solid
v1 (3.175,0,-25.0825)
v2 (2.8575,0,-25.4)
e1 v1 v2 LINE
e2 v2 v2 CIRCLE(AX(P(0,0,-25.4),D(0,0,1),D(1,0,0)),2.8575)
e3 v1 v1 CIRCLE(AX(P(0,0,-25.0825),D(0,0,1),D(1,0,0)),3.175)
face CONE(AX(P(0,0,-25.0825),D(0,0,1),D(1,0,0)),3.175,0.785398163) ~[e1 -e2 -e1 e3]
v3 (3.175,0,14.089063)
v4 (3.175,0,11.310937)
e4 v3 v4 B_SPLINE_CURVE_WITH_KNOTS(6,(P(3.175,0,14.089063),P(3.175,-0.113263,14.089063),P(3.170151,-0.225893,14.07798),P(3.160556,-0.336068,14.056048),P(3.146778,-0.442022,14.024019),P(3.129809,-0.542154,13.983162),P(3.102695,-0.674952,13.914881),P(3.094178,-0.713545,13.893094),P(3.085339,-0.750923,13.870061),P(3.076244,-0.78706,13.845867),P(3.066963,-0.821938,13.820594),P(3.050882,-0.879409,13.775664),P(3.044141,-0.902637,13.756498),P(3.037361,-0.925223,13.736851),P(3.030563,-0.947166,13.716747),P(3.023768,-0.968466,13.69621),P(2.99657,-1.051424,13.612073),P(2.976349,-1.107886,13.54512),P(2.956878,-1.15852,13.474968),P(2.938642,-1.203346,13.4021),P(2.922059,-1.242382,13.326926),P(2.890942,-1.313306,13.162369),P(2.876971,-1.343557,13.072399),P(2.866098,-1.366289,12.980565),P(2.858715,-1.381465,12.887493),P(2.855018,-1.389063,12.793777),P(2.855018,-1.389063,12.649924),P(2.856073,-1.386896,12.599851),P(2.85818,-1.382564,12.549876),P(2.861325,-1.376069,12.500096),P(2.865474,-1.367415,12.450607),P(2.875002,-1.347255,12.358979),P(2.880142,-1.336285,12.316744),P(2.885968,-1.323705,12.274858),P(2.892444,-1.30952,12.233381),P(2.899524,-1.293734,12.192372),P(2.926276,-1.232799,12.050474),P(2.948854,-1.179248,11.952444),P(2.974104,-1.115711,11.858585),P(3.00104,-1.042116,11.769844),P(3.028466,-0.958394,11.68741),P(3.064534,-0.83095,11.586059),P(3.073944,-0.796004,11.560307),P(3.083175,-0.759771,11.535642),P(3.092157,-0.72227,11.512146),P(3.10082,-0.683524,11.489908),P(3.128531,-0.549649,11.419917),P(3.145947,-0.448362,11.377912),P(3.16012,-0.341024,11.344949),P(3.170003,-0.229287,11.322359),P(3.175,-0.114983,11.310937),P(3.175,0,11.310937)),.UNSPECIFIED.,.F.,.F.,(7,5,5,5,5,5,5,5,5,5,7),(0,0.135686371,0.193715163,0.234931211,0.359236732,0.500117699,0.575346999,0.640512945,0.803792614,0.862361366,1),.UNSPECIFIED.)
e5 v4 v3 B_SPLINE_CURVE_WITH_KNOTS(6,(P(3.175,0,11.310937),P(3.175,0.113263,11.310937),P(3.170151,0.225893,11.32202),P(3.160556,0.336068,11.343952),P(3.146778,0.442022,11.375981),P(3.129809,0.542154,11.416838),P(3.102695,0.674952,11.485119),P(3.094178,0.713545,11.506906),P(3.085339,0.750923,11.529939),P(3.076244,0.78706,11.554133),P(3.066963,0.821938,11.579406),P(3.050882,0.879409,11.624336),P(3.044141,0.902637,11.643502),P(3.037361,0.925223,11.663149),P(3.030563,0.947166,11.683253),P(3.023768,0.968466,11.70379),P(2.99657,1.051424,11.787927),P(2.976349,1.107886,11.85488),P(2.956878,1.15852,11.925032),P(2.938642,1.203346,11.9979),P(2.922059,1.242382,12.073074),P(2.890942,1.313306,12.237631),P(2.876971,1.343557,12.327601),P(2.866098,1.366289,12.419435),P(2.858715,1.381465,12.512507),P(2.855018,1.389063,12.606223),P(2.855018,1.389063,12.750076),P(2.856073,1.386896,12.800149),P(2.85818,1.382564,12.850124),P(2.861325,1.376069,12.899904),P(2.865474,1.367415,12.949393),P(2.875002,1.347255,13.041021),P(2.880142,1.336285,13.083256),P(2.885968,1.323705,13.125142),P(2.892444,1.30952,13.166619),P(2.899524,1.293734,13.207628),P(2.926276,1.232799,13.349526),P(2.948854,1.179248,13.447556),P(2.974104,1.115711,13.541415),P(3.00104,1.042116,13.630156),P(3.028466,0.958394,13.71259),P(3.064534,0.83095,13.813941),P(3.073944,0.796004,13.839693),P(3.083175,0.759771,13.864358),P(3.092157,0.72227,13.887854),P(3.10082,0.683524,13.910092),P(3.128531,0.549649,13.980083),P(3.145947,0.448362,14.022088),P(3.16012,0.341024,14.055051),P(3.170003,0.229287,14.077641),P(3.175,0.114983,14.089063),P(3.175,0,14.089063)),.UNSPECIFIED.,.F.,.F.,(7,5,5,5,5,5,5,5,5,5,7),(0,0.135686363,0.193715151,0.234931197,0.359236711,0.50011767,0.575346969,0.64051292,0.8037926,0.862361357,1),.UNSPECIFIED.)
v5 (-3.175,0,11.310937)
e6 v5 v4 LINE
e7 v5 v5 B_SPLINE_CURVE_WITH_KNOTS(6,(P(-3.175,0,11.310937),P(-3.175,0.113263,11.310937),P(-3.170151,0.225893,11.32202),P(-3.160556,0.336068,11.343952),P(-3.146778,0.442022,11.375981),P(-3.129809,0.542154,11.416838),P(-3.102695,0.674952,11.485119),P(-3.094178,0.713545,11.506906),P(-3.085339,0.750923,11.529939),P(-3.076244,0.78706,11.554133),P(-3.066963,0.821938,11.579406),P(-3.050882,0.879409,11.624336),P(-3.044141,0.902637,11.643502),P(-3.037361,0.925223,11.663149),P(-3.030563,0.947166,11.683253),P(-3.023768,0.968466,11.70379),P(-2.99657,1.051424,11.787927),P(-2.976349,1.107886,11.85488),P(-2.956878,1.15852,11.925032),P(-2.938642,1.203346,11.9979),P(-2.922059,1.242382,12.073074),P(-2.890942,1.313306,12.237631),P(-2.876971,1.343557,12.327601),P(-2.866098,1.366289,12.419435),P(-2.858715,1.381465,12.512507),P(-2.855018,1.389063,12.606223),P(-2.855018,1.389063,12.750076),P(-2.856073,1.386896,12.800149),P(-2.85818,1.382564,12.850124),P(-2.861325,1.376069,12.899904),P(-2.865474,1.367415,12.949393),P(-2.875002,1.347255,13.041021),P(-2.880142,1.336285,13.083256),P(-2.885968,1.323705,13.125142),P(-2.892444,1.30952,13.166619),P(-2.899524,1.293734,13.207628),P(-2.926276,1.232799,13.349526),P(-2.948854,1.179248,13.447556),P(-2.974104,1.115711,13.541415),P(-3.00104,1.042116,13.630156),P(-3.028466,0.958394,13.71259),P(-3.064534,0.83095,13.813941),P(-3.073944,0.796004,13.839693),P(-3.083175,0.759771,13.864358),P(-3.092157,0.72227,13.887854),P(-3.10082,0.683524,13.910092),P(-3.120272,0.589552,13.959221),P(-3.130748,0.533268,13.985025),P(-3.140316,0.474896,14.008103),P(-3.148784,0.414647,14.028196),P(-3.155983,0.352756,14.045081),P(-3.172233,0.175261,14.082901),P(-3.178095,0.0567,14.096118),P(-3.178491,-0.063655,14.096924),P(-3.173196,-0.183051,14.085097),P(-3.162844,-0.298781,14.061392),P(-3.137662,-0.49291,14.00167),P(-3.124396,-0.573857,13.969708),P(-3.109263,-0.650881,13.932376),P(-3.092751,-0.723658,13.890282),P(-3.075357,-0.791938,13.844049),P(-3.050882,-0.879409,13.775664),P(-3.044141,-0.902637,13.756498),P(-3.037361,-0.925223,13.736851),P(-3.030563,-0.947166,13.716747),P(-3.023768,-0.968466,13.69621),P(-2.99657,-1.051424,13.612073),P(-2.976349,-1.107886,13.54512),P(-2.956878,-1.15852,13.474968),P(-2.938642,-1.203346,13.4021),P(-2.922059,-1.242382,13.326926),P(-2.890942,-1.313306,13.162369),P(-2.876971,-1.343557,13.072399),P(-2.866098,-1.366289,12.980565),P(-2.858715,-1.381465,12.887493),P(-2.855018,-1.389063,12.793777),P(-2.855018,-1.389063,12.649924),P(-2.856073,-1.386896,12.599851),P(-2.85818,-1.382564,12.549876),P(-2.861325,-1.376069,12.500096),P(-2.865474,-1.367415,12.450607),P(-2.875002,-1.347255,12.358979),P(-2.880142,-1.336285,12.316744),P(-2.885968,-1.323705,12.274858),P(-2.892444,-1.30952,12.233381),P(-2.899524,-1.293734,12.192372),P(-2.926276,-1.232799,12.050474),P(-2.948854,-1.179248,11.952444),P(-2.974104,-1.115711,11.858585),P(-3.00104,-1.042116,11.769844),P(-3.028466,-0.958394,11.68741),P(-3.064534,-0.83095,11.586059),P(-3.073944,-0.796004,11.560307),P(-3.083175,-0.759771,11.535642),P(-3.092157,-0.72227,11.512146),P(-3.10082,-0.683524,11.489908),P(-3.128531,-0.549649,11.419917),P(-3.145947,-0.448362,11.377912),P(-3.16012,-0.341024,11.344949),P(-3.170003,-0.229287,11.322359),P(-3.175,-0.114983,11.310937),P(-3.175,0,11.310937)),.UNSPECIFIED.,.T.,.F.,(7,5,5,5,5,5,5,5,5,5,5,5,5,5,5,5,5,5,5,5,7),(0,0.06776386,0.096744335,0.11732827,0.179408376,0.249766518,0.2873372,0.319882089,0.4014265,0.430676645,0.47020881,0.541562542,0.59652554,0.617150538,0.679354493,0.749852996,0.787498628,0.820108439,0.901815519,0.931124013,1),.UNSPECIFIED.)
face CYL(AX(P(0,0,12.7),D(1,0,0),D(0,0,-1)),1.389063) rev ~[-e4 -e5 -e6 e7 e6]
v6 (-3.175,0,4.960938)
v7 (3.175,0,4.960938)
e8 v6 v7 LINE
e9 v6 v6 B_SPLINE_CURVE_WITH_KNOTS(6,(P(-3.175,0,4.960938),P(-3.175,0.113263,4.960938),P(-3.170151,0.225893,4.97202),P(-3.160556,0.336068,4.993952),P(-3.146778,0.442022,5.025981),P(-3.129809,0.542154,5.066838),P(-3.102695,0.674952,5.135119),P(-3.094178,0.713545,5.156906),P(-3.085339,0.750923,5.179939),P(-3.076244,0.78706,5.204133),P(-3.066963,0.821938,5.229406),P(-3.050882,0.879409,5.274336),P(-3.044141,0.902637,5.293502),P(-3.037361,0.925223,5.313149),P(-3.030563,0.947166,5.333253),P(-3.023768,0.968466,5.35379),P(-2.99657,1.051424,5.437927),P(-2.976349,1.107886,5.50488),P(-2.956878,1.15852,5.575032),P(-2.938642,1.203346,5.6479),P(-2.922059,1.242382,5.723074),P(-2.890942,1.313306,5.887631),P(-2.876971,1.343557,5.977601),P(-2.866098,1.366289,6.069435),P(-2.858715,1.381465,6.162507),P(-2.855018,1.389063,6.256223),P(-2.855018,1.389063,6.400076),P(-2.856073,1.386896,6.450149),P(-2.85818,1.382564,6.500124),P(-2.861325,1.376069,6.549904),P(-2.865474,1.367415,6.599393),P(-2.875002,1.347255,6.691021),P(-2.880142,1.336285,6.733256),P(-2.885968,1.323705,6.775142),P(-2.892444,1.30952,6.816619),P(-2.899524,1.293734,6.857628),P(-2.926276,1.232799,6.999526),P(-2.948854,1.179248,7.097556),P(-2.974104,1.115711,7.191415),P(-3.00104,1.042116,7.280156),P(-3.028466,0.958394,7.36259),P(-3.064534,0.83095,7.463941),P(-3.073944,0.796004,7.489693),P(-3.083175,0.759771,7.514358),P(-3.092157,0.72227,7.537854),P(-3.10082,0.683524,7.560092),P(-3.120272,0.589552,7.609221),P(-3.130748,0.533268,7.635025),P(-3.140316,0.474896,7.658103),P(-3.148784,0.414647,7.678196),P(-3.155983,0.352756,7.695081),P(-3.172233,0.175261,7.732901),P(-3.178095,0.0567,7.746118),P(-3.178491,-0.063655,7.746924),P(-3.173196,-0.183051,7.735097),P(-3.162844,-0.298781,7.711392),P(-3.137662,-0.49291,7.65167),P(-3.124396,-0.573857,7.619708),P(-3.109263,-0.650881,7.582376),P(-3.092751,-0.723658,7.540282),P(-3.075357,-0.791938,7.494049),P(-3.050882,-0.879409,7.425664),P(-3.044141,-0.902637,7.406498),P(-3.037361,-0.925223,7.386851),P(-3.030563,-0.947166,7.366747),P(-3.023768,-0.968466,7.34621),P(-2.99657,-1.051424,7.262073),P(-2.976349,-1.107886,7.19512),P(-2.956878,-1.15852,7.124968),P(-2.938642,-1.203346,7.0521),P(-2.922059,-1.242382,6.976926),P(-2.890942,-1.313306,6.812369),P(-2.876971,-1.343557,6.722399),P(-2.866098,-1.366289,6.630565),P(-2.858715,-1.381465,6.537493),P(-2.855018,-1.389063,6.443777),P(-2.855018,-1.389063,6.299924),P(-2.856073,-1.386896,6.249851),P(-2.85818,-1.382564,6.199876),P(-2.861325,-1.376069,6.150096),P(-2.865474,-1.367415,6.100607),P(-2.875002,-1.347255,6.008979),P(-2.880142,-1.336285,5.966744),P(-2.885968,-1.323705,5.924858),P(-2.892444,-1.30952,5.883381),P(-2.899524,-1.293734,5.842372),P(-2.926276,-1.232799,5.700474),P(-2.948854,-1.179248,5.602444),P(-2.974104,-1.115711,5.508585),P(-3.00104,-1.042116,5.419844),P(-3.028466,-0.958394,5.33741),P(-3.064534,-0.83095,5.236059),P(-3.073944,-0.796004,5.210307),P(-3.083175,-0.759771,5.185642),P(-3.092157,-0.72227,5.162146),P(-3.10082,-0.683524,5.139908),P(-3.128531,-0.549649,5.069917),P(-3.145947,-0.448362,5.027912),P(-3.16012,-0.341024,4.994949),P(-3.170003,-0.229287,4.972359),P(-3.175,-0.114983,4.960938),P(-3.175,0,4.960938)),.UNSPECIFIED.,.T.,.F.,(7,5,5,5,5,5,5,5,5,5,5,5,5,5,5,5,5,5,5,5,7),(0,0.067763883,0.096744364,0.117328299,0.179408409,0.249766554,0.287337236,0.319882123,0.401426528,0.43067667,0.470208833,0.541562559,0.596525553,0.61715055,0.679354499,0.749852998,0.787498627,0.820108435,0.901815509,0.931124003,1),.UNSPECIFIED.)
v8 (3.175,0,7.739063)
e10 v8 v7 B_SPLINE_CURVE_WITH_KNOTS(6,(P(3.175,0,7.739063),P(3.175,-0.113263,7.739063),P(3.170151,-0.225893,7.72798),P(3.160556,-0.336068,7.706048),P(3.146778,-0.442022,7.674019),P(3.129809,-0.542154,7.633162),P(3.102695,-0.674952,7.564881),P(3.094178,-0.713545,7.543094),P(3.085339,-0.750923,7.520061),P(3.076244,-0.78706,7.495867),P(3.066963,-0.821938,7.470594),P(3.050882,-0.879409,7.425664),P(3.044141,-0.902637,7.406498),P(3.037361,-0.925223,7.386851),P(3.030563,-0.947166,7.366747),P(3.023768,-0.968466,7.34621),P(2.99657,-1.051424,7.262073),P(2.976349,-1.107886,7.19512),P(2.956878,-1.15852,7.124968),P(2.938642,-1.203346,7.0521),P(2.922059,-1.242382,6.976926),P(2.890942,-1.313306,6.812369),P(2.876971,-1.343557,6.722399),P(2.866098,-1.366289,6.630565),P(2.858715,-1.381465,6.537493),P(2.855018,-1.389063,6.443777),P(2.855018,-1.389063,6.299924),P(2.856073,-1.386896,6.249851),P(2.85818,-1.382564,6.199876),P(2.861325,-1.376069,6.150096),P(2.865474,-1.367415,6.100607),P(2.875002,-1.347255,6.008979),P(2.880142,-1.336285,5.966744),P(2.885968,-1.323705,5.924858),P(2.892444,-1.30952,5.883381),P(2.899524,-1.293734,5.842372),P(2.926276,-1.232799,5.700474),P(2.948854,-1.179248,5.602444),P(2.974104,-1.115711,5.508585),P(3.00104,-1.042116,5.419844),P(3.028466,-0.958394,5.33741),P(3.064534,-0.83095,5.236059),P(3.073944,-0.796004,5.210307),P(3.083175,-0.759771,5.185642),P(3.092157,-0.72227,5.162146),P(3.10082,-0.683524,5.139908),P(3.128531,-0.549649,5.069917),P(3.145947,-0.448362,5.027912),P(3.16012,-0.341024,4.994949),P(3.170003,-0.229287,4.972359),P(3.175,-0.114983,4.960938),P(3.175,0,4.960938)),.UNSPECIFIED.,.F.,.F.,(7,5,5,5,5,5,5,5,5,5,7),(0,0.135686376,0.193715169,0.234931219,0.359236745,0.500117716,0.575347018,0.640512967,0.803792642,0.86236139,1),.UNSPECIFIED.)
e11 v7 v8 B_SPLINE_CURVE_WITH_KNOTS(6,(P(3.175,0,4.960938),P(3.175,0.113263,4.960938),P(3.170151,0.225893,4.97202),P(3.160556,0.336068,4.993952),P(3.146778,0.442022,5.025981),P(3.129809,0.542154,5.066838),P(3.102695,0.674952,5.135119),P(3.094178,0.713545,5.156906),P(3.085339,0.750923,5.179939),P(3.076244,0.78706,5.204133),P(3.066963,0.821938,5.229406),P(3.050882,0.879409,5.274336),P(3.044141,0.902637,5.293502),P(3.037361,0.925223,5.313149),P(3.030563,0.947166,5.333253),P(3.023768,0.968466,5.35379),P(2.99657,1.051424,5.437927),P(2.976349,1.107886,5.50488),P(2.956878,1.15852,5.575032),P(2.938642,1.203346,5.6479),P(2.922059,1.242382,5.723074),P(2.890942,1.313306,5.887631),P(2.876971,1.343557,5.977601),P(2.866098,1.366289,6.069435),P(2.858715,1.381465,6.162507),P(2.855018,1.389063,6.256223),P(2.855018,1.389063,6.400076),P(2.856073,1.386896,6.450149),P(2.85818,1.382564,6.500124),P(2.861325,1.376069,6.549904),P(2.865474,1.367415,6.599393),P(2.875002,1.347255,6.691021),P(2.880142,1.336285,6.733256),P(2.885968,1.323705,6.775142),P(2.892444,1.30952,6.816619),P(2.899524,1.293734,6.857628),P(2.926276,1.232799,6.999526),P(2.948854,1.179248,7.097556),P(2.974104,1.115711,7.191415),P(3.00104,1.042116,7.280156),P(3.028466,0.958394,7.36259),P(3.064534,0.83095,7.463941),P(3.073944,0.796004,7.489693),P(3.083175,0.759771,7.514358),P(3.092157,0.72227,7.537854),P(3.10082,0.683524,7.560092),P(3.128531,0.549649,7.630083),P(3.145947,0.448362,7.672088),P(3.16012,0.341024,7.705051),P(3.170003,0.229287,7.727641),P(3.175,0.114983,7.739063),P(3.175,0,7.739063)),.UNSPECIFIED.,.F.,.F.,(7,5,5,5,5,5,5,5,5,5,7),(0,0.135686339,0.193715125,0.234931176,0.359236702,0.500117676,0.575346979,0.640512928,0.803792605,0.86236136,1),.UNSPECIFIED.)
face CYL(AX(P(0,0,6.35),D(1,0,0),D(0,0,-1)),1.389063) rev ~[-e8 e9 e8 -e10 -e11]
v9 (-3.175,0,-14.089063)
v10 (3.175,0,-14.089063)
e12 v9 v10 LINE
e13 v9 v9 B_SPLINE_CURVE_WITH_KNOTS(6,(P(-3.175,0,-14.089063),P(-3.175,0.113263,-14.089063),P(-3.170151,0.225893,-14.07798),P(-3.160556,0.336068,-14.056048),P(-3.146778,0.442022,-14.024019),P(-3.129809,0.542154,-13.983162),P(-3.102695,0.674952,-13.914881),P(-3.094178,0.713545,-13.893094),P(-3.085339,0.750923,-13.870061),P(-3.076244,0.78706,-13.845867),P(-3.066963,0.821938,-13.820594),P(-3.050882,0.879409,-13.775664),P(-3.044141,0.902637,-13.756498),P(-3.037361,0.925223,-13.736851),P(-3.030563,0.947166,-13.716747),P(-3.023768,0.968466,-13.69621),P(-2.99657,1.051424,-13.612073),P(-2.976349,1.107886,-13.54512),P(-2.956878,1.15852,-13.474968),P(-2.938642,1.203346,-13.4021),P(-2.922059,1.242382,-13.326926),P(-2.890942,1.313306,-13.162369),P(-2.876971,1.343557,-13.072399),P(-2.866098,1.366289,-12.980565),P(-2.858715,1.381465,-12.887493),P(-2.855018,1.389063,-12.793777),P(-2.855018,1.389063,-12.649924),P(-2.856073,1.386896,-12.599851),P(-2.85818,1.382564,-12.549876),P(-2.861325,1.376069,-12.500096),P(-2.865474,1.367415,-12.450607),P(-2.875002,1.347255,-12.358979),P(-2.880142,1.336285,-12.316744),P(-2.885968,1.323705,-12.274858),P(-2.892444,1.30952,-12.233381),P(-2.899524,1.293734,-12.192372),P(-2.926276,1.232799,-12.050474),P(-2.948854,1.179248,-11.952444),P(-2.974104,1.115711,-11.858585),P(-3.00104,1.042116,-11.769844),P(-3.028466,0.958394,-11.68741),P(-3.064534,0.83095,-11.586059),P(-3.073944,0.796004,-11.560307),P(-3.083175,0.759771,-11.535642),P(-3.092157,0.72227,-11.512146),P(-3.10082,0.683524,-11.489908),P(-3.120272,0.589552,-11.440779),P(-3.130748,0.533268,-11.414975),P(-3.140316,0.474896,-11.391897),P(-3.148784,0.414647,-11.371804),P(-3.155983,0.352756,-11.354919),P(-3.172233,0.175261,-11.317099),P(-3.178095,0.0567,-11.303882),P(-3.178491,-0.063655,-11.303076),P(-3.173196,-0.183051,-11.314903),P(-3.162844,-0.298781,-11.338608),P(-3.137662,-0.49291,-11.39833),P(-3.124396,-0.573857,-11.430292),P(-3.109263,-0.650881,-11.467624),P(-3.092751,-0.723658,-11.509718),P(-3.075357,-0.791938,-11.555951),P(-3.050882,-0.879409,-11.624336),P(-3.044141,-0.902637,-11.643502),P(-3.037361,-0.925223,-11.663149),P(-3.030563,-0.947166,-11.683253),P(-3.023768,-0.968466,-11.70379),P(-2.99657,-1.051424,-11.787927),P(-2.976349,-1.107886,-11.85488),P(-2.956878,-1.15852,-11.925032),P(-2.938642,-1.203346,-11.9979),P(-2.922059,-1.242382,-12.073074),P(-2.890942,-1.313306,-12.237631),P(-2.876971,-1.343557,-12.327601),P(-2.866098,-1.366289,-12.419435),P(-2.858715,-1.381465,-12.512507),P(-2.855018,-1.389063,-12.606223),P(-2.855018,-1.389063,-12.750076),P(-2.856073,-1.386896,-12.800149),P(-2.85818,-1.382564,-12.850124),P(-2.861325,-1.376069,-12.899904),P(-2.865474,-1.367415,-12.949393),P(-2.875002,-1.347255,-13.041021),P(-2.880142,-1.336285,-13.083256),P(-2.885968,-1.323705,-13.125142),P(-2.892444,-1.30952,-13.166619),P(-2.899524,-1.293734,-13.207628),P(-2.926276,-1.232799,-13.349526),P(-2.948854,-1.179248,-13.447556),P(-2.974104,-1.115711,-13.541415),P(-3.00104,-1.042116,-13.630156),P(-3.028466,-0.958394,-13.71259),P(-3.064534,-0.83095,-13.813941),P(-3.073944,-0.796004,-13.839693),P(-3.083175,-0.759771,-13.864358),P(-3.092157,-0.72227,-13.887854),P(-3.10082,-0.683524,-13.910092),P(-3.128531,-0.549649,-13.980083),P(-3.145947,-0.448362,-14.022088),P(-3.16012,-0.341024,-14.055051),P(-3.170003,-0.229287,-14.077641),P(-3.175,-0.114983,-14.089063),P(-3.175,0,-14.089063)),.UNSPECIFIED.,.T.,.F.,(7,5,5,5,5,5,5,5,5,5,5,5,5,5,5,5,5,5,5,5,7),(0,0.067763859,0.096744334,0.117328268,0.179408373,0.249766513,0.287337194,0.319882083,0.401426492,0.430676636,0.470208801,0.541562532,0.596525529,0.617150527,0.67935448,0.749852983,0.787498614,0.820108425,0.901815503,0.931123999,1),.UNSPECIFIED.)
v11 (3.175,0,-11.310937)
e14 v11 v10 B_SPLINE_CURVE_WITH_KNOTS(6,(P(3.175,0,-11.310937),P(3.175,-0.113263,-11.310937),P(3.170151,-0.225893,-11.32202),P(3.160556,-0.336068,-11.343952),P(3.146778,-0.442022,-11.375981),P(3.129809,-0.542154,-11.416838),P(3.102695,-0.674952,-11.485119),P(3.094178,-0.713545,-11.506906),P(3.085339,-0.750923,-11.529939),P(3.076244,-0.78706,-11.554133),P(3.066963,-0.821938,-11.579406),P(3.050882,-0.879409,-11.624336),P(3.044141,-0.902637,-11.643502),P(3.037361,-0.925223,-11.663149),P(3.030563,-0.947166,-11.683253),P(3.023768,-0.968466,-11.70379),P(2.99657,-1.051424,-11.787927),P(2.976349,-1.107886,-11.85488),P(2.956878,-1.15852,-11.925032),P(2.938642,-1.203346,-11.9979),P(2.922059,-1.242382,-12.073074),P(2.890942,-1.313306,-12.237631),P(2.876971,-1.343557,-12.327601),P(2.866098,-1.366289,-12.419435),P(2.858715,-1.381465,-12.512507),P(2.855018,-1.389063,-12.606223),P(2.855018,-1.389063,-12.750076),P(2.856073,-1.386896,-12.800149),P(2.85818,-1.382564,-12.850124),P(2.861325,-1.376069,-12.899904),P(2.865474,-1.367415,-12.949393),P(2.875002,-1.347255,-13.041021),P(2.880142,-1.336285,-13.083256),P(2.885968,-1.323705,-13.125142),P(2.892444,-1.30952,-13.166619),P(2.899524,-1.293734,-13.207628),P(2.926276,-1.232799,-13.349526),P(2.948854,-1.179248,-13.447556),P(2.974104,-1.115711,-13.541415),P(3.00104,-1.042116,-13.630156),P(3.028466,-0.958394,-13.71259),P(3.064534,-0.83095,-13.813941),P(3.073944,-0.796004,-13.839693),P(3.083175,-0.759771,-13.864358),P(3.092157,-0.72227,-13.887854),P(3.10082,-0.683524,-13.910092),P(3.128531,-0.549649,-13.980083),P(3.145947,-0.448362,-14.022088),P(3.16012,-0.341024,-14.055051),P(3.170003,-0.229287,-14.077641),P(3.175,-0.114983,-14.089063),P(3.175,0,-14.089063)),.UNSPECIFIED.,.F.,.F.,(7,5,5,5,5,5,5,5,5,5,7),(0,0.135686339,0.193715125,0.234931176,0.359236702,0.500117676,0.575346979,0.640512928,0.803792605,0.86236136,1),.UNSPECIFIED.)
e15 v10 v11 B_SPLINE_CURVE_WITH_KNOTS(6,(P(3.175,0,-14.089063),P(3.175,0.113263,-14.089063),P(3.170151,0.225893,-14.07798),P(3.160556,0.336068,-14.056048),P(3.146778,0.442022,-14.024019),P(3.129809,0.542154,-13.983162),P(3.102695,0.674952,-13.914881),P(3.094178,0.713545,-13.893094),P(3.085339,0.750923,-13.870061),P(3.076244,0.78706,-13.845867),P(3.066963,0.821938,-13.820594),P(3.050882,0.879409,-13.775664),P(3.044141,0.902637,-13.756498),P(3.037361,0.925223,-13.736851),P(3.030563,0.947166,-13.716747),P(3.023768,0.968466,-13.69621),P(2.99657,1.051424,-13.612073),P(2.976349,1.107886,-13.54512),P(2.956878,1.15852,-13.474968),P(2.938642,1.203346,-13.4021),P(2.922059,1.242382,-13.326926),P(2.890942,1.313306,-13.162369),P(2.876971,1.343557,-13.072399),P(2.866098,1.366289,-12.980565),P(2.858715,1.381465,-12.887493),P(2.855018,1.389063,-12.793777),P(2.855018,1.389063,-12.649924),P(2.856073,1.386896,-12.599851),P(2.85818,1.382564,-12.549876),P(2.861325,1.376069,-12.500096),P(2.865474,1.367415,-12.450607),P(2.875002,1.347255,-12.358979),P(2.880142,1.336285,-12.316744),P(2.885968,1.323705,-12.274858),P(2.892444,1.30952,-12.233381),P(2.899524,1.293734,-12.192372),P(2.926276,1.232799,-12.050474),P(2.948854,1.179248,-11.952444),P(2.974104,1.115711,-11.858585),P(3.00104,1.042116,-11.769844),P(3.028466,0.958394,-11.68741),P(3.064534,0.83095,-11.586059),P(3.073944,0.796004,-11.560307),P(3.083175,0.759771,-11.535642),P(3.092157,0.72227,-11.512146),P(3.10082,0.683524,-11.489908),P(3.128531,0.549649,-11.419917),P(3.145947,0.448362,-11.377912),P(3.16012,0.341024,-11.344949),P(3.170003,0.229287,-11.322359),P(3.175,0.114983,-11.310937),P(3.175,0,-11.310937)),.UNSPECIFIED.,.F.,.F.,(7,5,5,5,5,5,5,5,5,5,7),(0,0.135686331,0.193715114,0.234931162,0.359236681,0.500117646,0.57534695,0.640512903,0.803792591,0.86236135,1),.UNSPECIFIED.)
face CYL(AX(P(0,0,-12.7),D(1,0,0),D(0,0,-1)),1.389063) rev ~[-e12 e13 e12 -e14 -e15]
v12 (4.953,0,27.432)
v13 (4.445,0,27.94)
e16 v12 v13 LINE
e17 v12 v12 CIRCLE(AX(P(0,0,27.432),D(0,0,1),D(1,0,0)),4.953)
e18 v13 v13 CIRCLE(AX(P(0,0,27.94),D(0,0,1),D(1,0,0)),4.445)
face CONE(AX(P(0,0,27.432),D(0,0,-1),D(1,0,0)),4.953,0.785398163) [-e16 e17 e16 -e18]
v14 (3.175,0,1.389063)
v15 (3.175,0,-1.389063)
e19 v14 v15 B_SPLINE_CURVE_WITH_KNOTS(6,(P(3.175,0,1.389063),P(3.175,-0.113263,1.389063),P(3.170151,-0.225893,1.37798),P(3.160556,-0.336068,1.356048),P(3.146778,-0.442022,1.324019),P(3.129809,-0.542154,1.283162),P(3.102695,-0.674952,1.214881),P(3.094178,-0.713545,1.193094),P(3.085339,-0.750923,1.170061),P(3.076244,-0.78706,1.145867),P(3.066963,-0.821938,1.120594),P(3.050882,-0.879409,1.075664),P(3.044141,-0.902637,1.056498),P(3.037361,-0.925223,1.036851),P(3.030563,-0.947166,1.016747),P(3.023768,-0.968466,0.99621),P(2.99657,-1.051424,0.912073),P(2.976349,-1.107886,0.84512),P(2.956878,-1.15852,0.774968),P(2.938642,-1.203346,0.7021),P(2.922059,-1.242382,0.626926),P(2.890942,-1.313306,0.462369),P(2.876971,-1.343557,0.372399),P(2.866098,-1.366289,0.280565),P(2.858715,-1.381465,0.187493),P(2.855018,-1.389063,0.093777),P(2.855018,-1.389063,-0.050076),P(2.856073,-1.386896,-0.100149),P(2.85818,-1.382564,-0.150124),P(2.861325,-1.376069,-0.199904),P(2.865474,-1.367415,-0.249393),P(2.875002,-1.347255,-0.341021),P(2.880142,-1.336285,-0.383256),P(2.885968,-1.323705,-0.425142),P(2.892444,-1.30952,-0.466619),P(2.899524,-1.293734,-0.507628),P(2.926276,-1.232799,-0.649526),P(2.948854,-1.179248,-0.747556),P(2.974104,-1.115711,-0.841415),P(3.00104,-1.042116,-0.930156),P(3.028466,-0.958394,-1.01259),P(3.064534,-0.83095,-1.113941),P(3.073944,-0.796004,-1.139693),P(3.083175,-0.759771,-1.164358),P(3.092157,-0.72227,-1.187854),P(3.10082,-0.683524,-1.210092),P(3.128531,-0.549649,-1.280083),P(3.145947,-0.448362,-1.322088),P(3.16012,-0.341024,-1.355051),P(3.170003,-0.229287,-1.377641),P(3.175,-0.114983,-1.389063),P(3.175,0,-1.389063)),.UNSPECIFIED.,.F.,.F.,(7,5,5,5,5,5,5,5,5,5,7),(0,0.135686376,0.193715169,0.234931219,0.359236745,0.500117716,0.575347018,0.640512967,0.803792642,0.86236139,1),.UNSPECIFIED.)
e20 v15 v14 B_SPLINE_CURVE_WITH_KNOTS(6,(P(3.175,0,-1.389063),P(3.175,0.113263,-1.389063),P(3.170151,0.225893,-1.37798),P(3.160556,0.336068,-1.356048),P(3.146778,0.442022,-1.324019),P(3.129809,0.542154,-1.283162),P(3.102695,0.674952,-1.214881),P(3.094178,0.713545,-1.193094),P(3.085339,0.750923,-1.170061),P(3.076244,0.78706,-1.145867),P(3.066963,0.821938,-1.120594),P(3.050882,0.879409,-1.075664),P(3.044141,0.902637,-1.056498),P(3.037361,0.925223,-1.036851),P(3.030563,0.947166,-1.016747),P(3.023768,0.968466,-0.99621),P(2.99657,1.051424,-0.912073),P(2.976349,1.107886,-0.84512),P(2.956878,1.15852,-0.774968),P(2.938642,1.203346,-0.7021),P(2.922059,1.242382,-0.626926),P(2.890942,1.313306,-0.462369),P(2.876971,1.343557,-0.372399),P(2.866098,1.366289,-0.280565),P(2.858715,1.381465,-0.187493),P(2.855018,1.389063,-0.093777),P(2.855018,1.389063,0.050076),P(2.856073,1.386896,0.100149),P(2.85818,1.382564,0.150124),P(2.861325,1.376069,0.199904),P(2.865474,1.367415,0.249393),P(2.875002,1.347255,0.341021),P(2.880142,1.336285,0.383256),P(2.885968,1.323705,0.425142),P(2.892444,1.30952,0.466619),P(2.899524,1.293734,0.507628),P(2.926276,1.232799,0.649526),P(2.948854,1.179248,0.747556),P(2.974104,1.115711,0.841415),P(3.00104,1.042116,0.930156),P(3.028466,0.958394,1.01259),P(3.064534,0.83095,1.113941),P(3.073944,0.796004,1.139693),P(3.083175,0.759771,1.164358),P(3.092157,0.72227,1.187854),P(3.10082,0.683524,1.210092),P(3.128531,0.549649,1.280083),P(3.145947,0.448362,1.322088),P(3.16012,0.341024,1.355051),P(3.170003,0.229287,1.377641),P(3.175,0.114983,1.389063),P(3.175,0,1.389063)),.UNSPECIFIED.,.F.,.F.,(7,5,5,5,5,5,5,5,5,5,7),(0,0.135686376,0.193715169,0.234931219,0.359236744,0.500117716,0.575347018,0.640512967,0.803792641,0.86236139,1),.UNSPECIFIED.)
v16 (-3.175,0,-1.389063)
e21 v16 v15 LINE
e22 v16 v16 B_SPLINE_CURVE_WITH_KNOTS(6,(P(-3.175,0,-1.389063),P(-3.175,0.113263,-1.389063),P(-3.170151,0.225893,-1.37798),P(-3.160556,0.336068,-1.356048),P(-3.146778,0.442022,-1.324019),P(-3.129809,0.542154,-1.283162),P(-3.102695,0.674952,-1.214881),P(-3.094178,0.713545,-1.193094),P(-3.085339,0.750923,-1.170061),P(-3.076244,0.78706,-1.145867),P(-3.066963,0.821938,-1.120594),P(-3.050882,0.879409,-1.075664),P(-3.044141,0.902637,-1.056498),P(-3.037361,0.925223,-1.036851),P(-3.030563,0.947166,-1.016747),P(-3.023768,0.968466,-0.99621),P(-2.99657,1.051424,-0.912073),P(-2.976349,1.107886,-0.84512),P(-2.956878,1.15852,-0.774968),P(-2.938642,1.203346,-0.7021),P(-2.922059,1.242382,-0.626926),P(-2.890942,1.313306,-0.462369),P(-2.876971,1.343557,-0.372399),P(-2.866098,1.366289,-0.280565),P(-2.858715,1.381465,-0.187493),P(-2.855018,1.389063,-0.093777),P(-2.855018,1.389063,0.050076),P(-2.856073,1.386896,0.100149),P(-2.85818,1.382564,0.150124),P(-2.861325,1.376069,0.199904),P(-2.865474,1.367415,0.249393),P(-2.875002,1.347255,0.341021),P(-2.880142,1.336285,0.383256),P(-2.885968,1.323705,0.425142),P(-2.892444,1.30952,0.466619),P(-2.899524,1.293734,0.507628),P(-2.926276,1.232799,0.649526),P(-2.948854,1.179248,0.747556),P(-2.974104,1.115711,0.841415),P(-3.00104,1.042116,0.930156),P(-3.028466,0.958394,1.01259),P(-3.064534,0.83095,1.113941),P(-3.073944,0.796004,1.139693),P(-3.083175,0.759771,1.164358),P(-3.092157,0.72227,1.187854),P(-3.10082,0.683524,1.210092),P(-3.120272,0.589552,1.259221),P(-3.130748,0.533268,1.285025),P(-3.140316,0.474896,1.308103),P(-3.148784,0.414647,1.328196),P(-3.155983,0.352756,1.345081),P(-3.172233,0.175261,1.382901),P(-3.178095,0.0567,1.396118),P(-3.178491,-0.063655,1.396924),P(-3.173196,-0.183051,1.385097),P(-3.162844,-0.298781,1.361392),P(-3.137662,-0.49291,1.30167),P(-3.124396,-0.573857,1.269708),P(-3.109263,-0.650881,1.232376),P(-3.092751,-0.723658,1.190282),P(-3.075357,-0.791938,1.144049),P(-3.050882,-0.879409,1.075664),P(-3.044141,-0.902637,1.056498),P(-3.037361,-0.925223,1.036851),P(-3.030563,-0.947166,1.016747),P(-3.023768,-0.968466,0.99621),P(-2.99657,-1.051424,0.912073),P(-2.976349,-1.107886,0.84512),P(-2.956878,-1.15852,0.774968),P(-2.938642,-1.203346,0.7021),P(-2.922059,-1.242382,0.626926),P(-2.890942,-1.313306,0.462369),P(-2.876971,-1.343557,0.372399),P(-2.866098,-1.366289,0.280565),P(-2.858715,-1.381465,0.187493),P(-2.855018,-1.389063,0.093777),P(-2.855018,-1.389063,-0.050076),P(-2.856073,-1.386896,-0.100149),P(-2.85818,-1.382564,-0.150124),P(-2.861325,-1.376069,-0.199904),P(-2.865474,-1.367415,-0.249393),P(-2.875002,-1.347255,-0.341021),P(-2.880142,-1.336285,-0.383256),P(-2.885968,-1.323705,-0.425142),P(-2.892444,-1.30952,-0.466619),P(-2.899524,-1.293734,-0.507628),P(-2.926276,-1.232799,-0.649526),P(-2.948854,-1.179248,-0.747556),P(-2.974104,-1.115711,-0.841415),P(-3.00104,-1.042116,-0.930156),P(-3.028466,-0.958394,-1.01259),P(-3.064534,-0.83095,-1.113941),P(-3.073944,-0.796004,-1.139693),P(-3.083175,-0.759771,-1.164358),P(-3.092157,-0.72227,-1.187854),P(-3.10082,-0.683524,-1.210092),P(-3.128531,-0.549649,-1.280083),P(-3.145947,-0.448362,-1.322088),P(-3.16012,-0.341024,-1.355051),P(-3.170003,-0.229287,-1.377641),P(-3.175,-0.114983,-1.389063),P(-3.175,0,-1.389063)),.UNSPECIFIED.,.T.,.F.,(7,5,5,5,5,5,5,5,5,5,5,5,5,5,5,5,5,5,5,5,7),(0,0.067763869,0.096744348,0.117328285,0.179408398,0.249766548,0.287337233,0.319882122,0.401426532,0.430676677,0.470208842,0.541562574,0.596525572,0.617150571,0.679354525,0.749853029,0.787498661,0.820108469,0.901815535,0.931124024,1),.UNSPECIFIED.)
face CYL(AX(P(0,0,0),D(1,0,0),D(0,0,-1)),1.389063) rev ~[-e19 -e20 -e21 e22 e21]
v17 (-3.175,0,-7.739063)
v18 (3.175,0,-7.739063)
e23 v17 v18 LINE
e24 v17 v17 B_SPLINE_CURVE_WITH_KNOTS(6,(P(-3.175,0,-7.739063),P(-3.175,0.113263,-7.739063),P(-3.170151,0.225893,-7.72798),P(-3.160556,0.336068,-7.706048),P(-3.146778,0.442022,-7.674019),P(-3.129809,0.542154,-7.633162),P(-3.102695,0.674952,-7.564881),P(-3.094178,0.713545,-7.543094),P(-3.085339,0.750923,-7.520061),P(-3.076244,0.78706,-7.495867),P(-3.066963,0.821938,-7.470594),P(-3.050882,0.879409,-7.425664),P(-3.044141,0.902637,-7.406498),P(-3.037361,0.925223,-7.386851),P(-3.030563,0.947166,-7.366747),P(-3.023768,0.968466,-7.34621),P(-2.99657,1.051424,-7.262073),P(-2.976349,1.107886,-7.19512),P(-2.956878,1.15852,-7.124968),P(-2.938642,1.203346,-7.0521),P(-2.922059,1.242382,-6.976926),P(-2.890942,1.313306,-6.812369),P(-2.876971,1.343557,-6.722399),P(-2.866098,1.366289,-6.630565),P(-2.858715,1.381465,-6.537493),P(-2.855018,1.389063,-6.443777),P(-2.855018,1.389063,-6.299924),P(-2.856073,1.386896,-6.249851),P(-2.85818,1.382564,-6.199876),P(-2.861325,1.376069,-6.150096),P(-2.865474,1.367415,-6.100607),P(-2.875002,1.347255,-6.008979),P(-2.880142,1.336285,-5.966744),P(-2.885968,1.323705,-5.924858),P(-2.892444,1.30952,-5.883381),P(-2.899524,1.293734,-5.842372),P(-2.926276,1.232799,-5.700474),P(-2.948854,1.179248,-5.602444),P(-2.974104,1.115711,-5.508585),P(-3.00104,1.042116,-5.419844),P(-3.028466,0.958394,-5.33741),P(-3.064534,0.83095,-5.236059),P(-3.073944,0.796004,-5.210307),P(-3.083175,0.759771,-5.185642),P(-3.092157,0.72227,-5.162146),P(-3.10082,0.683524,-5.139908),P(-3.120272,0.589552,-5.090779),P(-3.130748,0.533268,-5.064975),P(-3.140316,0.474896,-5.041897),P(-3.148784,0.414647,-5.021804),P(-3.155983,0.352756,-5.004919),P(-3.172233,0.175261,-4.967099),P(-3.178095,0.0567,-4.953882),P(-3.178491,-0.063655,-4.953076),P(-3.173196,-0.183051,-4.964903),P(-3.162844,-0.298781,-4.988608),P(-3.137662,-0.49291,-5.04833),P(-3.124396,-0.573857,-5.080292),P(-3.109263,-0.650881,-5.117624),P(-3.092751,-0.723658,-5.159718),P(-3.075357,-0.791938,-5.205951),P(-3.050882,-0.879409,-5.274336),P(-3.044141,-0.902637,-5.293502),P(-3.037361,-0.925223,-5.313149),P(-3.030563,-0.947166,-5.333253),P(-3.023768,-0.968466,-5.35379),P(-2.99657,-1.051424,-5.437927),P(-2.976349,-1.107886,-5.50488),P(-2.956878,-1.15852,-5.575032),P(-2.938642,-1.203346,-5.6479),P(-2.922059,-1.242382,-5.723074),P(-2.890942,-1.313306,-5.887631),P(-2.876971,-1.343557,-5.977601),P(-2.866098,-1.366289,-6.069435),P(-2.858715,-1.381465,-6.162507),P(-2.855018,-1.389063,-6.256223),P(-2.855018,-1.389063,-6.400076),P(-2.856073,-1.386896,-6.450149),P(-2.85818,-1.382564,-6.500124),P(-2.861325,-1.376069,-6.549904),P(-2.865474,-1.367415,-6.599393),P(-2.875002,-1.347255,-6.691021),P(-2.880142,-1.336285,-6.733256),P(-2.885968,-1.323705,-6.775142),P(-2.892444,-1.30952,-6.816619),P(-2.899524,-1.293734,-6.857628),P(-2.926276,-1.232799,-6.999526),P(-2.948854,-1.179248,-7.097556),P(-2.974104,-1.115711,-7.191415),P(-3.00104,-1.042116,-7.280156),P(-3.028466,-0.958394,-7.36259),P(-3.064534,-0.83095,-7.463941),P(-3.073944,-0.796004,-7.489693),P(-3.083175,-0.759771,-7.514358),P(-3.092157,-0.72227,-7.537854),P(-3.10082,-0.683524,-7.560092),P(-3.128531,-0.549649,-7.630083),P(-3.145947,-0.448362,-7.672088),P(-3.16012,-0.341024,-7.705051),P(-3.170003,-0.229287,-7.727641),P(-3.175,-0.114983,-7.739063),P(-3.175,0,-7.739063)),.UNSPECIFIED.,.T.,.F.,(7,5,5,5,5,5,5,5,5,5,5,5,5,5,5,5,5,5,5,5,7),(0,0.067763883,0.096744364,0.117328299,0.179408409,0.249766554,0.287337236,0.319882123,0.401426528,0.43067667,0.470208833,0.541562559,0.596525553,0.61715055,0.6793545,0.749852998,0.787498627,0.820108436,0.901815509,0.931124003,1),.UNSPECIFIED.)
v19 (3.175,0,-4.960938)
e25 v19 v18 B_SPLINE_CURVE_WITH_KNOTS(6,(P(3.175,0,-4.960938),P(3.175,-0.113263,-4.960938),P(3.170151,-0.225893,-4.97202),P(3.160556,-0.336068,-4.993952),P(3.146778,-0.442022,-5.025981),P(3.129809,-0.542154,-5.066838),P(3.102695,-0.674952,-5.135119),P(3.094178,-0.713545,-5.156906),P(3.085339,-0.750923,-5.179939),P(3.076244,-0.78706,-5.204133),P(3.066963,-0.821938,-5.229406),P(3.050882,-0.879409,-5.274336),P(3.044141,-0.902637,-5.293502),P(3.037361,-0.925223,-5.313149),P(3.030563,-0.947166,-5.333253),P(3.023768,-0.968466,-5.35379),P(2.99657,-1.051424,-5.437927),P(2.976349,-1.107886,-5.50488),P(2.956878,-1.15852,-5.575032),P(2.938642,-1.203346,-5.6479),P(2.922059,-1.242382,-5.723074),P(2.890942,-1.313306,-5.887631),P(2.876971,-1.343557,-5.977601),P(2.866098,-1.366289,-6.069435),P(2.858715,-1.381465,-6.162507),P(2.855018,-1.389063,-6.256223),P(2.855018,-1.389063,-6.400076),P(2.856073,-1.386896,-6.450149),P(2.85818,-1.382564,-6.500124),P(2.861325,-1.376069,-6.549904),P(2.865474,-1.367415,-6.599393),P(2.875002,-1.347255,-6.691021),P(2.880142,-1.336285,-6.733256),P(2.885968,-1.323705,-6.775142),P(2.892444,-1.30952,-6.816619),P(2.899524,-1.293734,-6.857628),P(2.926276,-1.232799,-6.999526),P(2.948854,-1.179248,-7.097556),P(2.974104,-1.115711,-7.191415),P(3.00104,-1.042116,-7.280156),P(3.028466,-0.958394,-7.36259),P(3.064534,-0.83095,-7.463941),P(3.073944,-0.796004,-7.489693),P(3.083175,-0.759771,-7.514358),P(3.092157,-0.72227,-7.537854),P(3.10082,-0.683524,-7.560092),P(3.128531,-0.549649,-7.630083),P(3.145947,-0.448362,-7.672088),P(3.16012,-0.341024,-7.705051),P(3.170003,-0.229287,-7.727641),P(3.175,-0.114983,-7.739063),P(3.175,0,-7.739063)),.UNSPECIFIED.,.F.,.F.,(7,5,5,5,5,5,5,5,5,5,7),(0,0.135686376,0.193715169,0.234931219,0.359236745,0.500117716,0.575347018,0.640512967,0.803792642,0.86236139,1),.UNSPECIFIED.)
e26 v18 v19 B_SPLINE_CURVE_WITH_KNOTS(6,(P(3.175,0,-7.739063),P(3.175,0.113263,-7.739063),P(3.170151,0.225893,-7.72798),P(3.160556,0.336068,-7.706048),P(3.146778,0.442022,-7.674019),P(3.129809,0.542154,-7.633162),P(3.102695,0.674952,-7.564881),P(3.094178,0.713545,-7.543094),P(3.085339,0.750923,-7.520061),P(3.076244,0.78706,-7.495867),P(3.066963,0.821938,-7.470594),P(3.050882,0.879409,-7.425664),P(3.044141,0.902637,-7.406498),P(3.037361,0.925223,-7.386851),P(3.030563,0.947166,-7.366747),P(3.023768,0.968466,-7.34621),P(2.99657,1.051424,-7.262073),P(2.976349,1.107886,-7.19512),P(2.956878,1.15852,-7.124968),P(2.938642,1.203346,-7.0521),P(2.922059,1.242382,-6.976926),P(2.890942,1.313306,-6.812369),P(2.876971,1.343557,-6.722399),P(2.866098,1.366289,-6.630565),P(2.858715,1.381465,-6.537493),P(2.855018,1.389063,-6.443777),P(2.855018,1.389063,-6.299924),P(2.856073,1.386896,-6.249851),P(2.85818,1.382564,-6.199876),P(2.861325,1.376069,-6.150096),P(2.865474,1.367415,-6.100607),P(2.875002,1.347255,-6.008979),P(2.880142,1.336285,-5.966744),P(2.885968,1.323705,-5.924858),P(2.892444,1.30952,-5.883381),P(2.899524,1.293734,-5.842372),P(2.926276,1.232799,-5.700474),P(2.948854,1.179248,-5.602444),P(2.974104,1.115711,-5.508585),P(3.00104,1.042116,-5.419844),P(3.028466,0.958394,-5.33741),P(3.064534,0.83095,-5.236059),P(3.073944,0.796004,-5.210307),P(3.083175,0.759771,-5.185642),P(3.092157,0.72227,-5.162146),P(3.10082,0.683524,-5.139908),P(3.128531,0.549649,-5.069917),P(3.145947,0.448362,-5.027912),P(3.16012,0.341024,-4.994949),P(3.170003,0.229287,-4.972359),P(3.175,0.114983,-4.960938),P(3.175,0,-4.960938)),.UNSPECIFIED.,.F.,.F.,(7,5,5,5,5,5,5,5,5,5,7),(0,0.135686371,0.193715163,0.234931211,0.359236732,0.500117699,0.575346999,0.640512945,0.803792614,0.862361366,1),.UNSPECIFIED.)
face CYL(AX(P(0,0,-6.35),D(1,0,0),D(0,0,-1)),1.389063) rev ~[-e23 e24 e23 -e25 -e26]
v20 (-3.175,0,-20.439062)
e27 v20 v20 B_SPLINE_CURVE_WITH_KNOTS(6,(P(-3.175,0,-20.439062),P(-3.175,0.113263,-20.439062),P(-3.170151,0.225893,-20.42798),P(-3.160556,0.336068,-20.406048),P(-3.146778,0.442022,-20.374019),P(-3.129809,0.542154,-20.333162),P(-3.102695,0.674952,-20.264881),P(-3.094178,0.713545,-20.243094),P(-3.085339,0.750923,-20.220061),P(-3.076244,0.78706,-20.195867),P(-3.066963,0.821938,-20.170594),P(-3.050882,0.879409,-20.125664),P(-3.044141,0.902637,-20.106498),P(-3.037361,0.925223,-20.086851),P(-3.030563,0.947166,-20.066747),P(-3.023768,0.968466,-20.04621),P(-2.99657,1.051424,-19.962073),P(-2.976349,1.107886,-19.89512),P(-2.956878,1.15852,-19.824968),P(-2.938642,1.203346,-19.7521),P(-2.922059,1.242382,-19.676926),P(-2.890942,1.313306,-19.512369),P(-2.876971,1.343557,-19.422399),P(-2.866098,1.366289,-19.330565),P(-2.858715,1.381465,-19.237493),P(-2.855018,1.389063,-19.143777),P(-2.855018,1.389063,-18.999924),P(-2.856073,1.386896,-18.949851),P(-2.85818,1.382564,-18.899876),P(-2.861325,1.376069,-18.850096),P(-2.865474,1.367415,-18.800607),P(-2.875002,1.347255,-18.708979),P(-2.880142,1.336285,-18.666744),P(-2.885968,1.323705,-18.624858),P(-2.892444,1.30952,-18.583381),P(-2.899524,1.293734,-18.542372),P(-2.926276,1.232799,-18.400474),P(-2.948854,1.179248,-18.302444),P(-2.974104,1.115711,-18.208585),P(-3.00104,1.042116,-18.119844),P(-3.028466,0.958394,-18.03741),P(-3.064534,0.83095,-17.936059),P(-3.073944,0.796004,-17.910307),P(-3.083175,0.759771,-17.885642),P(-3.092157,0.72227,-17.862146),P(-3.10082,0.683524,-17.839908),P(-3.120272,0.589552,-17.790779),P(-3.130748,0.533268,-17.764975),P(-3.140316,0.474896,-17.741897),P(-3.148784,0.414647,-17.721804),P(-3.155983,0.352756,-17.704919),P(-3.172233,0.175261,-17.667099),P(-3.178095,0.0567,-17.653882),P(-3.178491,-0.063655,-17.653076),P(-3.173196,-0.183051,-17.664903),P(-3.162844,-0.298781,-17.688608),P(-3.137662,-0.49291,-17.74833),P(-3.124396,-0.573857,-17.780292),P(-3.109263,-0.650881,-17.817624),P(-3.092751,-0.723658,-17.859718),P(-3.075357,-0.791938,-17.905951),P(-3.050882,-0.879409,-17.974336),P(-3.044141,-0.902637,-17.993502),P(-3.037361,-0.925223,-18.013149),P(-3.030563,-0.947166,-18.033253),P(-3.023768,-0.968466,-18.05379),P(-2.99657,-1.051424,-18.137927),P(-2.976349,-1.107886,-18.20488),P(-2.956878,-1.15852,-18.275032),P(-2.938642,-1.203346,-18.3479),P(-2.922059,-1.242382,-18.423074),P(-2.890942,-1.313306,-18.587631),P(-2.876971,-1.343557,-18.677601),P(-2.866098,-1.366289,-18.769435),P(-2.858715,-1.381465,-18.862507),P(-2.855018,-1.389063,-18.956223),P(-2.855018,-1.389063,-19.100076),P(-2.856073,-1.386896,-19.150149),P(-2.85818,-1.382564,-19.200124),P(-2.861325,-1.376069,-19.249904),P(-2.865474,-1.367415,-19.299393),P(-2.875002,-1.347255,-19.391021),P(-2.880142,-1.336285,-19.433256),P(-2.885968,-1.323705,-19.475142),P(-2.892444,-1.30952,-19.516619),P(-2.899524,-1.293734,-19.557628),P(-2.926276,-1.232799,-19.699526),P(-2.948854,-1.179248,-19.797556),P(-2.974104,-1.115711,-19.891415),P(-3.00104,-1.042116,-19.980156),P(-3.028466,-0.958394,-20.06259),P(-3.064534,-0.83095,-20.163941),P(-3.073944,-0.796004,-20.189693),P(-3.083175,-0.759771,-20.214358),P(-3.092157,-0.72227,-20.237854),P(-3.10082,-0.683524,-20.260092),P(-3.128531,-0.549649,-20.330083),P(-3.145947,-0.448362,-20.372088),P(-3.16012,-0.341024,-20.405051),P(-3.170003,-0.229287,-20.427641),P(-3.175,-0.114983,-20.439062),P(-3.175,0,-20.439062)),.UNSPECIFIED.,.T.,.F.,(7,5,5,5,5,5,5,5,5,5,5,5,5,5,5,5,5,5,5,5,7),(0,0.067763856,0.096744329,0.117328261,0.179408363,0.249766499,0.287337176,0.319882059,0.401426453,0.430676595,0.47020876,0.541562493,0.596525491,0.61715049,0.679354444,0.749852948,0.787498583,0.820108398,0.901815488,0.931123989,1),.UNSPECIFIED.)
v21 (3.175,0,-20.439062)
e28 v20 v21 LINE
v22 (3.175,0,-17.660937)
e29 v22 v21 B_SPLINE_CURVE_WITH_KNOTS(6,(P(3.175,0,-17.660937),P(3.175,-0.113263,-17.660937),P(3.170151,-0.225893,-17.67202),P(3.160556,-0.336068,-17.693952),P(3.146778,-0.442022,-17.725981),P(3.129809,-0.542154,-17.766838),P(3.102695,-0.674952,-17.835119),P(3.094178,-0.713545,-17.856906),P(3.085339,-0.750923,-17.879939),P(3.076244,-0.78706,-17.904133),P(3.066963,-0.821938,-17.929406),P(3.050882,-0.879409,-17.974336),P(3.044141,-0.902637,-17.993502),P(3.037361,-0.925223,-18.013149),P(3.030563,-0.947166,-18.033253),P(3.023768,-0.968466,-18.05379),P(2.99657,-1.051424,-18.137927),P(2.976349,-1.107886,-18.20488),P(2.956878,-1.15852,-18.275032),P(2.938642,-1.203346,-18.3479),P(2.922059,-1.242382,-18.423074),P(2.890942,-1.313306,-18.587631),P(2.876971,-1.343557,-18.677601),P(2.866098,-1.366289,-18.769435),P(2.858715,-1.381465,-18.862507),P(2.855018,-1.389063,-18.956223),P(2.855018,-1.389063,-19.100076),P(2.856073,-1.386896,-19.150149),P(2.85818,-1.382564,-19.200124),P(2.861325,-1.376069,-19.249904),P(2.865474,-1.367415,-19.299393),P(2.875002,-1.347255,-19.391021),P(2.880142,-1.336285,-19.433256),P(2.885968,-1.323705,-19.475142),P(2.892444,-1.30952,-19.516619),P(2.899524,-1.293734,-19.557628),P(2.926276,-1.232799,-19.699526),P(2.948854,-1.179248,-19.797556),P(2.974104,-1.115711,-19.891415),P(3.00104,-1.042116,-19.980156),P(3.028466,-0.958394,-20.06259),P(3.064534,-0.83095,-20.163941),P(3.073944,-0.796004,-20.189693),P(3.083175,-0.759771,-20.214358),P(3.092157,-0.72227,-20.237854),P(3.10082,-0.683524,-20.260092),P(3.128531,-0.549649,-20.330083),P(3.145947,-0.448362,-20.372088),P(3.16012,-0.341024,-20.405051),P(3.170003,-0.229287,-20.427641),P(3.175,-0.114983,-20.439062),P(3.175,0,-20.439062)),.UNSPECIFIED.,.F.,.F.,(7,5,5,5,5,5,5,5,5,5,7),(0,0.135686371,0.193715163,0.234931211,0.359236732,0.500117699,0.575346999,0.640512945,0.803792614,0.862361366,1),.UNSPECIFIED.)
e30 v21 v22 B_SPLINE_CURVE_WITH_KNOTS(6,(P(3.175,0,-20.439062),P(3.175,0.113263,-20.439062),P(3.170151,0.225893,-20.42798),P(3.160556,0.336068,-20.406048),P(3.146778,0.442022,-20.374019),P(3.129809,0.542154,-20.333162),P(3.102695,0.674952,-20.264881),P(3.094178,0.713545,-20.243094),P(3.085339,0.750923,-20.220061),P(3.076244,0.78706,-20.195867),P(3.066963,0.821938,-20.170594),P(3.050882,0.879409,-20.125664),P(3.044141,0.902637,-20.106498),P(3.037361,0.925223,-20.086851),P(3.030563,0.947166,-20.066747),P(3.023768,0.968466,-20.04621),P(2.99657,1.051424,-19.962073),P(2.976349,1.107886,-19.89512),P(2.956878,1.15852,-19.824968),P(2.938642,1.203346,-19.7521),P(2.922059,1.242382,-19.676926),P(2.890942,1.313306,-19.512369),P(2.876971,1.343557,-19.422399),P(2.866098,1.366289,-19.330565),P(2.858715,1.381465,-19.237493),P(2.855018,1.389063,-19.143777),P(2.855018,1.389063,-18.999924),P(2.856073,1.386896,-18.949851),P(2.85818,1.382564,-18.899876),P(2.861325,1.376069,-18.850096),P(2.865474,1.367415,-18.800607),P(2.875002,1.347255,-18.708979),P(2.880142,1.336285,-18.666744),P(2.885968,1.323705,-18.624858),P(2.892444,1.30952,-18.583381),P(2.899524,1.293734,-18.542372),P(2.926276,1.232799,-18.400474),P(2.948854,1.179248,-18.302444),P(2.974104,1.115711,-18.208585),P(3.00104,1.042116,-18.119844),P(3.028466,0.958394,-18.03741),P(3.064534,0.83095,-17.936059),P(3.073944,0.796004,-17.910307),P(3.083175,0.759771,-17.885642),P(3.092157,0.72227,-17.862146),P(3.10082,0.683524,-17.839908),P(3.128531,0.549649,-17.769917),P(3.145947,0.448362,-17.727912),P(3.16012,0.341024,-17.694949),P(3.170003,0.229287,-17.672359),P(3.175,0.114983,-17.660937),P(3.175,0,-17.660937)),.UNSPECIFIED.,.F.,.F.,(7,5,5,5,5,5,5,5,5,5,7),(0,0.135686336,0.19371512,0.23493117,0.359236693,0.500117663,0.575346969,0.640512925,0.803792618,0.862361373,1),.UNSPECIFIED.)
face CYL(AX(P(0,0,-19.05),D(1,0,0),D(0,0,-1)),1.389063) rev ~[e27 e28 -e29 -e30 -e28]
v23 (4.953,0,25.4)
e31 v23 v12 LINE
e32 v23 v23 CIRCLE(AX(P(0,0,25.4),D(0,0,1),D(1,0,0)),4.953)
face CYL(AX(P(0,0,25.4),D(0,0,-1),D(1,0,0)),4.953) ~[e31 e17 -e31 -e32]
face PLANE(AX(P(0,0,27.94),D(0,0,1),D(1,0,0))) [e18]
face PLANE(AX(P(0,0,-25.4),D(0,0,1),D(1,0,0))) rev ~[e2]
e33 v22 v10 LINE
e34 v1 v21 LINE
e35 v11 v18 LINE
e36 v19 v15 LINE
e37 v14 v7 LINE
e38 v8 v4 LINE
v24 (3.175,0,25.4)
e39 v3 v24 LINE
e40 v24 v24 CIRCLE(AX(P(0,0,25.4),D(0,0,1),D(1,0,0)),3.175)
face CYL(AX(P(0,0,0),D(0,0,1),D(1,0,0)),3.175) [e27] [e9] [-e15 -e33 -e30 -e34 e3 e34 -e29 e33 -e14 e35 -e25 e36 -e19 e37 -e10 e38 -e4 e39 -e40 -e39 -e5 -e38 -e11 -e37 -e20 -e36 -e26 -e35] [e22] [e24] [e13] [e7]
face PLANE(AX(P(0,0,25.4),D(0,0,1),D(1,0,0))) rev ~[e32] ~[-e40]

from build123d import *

# Parameters (mm, degrees)
SKETCH1_R       = 3.175
EXTRUDE1_DEPTH  = 25.4
SKETCH2_R       = 4.953
EXTRUDE2_DEPTH  = 2.54
CHAMFER1_SIZE   = 0.508
SKETCH3_R       = 1.3890625
EXTRUDE3_DEPTH  = 5.953
LPATTERN1_COUNT = 6
LPATTERN1_PITCH = 6.35
CHAMFER2_SIZE   = 0.3175


with BuildPart() as part:
    # Sketch1 → Extrude1 (new body, symmetric)
    with BuildSketch(Plane.XY):
        Circle(SKETCH1_R)
    extrude(amount=EXTRUDE1_DEPTH, both=True)

    # Sketch2 → Extrude2 (add)
    with BuildSketch(Plane.XY.offset(25.4)):
        Circle(SKETCH2_R)
    extrude(amount=EXTRUDE2_DEPTH)

    # Chamfer1
    chamfer1_edges = [part.edges().sort_by_distance(p)[0] for p in [
        (-4.953, 0, 27.94),
    ]]
    chamfer(chamfer1_edges, length=CHAMFER1_SIZE)

    # Sketch3 → Extrude3 (cut, symmetric)
    with BuildSketch(Plane(origin=(0, 0, 0), x_dir=(0, 0, -1), z_dir=(1, 0, 0))):
        with Locations((19.05, 0)):
            Circle(SKETCH3_R)
    extrude3 = extrude(amount=EXTRUDE3_DEPTH, both=True, mode=Mode.SUBTRACT)

    # LPattern1: Extrude3 ×6
    with Locations(*[(0, 0, i * LPATTERN1_PITCH) for i in range(1, LPATTERN1_COUNT)]):
        add(extrude3, mode=Mode.SUBTRACT)

    # Chamfer2
    chamfer2_edges = [part.edges().sort_by_distance(p)[0] for p in [
        (-3.175, 0, -25.4),
    ]]
    chamfer(chamfer2_edges, length=CHAMFER2_SIZE)


solid = part.part
